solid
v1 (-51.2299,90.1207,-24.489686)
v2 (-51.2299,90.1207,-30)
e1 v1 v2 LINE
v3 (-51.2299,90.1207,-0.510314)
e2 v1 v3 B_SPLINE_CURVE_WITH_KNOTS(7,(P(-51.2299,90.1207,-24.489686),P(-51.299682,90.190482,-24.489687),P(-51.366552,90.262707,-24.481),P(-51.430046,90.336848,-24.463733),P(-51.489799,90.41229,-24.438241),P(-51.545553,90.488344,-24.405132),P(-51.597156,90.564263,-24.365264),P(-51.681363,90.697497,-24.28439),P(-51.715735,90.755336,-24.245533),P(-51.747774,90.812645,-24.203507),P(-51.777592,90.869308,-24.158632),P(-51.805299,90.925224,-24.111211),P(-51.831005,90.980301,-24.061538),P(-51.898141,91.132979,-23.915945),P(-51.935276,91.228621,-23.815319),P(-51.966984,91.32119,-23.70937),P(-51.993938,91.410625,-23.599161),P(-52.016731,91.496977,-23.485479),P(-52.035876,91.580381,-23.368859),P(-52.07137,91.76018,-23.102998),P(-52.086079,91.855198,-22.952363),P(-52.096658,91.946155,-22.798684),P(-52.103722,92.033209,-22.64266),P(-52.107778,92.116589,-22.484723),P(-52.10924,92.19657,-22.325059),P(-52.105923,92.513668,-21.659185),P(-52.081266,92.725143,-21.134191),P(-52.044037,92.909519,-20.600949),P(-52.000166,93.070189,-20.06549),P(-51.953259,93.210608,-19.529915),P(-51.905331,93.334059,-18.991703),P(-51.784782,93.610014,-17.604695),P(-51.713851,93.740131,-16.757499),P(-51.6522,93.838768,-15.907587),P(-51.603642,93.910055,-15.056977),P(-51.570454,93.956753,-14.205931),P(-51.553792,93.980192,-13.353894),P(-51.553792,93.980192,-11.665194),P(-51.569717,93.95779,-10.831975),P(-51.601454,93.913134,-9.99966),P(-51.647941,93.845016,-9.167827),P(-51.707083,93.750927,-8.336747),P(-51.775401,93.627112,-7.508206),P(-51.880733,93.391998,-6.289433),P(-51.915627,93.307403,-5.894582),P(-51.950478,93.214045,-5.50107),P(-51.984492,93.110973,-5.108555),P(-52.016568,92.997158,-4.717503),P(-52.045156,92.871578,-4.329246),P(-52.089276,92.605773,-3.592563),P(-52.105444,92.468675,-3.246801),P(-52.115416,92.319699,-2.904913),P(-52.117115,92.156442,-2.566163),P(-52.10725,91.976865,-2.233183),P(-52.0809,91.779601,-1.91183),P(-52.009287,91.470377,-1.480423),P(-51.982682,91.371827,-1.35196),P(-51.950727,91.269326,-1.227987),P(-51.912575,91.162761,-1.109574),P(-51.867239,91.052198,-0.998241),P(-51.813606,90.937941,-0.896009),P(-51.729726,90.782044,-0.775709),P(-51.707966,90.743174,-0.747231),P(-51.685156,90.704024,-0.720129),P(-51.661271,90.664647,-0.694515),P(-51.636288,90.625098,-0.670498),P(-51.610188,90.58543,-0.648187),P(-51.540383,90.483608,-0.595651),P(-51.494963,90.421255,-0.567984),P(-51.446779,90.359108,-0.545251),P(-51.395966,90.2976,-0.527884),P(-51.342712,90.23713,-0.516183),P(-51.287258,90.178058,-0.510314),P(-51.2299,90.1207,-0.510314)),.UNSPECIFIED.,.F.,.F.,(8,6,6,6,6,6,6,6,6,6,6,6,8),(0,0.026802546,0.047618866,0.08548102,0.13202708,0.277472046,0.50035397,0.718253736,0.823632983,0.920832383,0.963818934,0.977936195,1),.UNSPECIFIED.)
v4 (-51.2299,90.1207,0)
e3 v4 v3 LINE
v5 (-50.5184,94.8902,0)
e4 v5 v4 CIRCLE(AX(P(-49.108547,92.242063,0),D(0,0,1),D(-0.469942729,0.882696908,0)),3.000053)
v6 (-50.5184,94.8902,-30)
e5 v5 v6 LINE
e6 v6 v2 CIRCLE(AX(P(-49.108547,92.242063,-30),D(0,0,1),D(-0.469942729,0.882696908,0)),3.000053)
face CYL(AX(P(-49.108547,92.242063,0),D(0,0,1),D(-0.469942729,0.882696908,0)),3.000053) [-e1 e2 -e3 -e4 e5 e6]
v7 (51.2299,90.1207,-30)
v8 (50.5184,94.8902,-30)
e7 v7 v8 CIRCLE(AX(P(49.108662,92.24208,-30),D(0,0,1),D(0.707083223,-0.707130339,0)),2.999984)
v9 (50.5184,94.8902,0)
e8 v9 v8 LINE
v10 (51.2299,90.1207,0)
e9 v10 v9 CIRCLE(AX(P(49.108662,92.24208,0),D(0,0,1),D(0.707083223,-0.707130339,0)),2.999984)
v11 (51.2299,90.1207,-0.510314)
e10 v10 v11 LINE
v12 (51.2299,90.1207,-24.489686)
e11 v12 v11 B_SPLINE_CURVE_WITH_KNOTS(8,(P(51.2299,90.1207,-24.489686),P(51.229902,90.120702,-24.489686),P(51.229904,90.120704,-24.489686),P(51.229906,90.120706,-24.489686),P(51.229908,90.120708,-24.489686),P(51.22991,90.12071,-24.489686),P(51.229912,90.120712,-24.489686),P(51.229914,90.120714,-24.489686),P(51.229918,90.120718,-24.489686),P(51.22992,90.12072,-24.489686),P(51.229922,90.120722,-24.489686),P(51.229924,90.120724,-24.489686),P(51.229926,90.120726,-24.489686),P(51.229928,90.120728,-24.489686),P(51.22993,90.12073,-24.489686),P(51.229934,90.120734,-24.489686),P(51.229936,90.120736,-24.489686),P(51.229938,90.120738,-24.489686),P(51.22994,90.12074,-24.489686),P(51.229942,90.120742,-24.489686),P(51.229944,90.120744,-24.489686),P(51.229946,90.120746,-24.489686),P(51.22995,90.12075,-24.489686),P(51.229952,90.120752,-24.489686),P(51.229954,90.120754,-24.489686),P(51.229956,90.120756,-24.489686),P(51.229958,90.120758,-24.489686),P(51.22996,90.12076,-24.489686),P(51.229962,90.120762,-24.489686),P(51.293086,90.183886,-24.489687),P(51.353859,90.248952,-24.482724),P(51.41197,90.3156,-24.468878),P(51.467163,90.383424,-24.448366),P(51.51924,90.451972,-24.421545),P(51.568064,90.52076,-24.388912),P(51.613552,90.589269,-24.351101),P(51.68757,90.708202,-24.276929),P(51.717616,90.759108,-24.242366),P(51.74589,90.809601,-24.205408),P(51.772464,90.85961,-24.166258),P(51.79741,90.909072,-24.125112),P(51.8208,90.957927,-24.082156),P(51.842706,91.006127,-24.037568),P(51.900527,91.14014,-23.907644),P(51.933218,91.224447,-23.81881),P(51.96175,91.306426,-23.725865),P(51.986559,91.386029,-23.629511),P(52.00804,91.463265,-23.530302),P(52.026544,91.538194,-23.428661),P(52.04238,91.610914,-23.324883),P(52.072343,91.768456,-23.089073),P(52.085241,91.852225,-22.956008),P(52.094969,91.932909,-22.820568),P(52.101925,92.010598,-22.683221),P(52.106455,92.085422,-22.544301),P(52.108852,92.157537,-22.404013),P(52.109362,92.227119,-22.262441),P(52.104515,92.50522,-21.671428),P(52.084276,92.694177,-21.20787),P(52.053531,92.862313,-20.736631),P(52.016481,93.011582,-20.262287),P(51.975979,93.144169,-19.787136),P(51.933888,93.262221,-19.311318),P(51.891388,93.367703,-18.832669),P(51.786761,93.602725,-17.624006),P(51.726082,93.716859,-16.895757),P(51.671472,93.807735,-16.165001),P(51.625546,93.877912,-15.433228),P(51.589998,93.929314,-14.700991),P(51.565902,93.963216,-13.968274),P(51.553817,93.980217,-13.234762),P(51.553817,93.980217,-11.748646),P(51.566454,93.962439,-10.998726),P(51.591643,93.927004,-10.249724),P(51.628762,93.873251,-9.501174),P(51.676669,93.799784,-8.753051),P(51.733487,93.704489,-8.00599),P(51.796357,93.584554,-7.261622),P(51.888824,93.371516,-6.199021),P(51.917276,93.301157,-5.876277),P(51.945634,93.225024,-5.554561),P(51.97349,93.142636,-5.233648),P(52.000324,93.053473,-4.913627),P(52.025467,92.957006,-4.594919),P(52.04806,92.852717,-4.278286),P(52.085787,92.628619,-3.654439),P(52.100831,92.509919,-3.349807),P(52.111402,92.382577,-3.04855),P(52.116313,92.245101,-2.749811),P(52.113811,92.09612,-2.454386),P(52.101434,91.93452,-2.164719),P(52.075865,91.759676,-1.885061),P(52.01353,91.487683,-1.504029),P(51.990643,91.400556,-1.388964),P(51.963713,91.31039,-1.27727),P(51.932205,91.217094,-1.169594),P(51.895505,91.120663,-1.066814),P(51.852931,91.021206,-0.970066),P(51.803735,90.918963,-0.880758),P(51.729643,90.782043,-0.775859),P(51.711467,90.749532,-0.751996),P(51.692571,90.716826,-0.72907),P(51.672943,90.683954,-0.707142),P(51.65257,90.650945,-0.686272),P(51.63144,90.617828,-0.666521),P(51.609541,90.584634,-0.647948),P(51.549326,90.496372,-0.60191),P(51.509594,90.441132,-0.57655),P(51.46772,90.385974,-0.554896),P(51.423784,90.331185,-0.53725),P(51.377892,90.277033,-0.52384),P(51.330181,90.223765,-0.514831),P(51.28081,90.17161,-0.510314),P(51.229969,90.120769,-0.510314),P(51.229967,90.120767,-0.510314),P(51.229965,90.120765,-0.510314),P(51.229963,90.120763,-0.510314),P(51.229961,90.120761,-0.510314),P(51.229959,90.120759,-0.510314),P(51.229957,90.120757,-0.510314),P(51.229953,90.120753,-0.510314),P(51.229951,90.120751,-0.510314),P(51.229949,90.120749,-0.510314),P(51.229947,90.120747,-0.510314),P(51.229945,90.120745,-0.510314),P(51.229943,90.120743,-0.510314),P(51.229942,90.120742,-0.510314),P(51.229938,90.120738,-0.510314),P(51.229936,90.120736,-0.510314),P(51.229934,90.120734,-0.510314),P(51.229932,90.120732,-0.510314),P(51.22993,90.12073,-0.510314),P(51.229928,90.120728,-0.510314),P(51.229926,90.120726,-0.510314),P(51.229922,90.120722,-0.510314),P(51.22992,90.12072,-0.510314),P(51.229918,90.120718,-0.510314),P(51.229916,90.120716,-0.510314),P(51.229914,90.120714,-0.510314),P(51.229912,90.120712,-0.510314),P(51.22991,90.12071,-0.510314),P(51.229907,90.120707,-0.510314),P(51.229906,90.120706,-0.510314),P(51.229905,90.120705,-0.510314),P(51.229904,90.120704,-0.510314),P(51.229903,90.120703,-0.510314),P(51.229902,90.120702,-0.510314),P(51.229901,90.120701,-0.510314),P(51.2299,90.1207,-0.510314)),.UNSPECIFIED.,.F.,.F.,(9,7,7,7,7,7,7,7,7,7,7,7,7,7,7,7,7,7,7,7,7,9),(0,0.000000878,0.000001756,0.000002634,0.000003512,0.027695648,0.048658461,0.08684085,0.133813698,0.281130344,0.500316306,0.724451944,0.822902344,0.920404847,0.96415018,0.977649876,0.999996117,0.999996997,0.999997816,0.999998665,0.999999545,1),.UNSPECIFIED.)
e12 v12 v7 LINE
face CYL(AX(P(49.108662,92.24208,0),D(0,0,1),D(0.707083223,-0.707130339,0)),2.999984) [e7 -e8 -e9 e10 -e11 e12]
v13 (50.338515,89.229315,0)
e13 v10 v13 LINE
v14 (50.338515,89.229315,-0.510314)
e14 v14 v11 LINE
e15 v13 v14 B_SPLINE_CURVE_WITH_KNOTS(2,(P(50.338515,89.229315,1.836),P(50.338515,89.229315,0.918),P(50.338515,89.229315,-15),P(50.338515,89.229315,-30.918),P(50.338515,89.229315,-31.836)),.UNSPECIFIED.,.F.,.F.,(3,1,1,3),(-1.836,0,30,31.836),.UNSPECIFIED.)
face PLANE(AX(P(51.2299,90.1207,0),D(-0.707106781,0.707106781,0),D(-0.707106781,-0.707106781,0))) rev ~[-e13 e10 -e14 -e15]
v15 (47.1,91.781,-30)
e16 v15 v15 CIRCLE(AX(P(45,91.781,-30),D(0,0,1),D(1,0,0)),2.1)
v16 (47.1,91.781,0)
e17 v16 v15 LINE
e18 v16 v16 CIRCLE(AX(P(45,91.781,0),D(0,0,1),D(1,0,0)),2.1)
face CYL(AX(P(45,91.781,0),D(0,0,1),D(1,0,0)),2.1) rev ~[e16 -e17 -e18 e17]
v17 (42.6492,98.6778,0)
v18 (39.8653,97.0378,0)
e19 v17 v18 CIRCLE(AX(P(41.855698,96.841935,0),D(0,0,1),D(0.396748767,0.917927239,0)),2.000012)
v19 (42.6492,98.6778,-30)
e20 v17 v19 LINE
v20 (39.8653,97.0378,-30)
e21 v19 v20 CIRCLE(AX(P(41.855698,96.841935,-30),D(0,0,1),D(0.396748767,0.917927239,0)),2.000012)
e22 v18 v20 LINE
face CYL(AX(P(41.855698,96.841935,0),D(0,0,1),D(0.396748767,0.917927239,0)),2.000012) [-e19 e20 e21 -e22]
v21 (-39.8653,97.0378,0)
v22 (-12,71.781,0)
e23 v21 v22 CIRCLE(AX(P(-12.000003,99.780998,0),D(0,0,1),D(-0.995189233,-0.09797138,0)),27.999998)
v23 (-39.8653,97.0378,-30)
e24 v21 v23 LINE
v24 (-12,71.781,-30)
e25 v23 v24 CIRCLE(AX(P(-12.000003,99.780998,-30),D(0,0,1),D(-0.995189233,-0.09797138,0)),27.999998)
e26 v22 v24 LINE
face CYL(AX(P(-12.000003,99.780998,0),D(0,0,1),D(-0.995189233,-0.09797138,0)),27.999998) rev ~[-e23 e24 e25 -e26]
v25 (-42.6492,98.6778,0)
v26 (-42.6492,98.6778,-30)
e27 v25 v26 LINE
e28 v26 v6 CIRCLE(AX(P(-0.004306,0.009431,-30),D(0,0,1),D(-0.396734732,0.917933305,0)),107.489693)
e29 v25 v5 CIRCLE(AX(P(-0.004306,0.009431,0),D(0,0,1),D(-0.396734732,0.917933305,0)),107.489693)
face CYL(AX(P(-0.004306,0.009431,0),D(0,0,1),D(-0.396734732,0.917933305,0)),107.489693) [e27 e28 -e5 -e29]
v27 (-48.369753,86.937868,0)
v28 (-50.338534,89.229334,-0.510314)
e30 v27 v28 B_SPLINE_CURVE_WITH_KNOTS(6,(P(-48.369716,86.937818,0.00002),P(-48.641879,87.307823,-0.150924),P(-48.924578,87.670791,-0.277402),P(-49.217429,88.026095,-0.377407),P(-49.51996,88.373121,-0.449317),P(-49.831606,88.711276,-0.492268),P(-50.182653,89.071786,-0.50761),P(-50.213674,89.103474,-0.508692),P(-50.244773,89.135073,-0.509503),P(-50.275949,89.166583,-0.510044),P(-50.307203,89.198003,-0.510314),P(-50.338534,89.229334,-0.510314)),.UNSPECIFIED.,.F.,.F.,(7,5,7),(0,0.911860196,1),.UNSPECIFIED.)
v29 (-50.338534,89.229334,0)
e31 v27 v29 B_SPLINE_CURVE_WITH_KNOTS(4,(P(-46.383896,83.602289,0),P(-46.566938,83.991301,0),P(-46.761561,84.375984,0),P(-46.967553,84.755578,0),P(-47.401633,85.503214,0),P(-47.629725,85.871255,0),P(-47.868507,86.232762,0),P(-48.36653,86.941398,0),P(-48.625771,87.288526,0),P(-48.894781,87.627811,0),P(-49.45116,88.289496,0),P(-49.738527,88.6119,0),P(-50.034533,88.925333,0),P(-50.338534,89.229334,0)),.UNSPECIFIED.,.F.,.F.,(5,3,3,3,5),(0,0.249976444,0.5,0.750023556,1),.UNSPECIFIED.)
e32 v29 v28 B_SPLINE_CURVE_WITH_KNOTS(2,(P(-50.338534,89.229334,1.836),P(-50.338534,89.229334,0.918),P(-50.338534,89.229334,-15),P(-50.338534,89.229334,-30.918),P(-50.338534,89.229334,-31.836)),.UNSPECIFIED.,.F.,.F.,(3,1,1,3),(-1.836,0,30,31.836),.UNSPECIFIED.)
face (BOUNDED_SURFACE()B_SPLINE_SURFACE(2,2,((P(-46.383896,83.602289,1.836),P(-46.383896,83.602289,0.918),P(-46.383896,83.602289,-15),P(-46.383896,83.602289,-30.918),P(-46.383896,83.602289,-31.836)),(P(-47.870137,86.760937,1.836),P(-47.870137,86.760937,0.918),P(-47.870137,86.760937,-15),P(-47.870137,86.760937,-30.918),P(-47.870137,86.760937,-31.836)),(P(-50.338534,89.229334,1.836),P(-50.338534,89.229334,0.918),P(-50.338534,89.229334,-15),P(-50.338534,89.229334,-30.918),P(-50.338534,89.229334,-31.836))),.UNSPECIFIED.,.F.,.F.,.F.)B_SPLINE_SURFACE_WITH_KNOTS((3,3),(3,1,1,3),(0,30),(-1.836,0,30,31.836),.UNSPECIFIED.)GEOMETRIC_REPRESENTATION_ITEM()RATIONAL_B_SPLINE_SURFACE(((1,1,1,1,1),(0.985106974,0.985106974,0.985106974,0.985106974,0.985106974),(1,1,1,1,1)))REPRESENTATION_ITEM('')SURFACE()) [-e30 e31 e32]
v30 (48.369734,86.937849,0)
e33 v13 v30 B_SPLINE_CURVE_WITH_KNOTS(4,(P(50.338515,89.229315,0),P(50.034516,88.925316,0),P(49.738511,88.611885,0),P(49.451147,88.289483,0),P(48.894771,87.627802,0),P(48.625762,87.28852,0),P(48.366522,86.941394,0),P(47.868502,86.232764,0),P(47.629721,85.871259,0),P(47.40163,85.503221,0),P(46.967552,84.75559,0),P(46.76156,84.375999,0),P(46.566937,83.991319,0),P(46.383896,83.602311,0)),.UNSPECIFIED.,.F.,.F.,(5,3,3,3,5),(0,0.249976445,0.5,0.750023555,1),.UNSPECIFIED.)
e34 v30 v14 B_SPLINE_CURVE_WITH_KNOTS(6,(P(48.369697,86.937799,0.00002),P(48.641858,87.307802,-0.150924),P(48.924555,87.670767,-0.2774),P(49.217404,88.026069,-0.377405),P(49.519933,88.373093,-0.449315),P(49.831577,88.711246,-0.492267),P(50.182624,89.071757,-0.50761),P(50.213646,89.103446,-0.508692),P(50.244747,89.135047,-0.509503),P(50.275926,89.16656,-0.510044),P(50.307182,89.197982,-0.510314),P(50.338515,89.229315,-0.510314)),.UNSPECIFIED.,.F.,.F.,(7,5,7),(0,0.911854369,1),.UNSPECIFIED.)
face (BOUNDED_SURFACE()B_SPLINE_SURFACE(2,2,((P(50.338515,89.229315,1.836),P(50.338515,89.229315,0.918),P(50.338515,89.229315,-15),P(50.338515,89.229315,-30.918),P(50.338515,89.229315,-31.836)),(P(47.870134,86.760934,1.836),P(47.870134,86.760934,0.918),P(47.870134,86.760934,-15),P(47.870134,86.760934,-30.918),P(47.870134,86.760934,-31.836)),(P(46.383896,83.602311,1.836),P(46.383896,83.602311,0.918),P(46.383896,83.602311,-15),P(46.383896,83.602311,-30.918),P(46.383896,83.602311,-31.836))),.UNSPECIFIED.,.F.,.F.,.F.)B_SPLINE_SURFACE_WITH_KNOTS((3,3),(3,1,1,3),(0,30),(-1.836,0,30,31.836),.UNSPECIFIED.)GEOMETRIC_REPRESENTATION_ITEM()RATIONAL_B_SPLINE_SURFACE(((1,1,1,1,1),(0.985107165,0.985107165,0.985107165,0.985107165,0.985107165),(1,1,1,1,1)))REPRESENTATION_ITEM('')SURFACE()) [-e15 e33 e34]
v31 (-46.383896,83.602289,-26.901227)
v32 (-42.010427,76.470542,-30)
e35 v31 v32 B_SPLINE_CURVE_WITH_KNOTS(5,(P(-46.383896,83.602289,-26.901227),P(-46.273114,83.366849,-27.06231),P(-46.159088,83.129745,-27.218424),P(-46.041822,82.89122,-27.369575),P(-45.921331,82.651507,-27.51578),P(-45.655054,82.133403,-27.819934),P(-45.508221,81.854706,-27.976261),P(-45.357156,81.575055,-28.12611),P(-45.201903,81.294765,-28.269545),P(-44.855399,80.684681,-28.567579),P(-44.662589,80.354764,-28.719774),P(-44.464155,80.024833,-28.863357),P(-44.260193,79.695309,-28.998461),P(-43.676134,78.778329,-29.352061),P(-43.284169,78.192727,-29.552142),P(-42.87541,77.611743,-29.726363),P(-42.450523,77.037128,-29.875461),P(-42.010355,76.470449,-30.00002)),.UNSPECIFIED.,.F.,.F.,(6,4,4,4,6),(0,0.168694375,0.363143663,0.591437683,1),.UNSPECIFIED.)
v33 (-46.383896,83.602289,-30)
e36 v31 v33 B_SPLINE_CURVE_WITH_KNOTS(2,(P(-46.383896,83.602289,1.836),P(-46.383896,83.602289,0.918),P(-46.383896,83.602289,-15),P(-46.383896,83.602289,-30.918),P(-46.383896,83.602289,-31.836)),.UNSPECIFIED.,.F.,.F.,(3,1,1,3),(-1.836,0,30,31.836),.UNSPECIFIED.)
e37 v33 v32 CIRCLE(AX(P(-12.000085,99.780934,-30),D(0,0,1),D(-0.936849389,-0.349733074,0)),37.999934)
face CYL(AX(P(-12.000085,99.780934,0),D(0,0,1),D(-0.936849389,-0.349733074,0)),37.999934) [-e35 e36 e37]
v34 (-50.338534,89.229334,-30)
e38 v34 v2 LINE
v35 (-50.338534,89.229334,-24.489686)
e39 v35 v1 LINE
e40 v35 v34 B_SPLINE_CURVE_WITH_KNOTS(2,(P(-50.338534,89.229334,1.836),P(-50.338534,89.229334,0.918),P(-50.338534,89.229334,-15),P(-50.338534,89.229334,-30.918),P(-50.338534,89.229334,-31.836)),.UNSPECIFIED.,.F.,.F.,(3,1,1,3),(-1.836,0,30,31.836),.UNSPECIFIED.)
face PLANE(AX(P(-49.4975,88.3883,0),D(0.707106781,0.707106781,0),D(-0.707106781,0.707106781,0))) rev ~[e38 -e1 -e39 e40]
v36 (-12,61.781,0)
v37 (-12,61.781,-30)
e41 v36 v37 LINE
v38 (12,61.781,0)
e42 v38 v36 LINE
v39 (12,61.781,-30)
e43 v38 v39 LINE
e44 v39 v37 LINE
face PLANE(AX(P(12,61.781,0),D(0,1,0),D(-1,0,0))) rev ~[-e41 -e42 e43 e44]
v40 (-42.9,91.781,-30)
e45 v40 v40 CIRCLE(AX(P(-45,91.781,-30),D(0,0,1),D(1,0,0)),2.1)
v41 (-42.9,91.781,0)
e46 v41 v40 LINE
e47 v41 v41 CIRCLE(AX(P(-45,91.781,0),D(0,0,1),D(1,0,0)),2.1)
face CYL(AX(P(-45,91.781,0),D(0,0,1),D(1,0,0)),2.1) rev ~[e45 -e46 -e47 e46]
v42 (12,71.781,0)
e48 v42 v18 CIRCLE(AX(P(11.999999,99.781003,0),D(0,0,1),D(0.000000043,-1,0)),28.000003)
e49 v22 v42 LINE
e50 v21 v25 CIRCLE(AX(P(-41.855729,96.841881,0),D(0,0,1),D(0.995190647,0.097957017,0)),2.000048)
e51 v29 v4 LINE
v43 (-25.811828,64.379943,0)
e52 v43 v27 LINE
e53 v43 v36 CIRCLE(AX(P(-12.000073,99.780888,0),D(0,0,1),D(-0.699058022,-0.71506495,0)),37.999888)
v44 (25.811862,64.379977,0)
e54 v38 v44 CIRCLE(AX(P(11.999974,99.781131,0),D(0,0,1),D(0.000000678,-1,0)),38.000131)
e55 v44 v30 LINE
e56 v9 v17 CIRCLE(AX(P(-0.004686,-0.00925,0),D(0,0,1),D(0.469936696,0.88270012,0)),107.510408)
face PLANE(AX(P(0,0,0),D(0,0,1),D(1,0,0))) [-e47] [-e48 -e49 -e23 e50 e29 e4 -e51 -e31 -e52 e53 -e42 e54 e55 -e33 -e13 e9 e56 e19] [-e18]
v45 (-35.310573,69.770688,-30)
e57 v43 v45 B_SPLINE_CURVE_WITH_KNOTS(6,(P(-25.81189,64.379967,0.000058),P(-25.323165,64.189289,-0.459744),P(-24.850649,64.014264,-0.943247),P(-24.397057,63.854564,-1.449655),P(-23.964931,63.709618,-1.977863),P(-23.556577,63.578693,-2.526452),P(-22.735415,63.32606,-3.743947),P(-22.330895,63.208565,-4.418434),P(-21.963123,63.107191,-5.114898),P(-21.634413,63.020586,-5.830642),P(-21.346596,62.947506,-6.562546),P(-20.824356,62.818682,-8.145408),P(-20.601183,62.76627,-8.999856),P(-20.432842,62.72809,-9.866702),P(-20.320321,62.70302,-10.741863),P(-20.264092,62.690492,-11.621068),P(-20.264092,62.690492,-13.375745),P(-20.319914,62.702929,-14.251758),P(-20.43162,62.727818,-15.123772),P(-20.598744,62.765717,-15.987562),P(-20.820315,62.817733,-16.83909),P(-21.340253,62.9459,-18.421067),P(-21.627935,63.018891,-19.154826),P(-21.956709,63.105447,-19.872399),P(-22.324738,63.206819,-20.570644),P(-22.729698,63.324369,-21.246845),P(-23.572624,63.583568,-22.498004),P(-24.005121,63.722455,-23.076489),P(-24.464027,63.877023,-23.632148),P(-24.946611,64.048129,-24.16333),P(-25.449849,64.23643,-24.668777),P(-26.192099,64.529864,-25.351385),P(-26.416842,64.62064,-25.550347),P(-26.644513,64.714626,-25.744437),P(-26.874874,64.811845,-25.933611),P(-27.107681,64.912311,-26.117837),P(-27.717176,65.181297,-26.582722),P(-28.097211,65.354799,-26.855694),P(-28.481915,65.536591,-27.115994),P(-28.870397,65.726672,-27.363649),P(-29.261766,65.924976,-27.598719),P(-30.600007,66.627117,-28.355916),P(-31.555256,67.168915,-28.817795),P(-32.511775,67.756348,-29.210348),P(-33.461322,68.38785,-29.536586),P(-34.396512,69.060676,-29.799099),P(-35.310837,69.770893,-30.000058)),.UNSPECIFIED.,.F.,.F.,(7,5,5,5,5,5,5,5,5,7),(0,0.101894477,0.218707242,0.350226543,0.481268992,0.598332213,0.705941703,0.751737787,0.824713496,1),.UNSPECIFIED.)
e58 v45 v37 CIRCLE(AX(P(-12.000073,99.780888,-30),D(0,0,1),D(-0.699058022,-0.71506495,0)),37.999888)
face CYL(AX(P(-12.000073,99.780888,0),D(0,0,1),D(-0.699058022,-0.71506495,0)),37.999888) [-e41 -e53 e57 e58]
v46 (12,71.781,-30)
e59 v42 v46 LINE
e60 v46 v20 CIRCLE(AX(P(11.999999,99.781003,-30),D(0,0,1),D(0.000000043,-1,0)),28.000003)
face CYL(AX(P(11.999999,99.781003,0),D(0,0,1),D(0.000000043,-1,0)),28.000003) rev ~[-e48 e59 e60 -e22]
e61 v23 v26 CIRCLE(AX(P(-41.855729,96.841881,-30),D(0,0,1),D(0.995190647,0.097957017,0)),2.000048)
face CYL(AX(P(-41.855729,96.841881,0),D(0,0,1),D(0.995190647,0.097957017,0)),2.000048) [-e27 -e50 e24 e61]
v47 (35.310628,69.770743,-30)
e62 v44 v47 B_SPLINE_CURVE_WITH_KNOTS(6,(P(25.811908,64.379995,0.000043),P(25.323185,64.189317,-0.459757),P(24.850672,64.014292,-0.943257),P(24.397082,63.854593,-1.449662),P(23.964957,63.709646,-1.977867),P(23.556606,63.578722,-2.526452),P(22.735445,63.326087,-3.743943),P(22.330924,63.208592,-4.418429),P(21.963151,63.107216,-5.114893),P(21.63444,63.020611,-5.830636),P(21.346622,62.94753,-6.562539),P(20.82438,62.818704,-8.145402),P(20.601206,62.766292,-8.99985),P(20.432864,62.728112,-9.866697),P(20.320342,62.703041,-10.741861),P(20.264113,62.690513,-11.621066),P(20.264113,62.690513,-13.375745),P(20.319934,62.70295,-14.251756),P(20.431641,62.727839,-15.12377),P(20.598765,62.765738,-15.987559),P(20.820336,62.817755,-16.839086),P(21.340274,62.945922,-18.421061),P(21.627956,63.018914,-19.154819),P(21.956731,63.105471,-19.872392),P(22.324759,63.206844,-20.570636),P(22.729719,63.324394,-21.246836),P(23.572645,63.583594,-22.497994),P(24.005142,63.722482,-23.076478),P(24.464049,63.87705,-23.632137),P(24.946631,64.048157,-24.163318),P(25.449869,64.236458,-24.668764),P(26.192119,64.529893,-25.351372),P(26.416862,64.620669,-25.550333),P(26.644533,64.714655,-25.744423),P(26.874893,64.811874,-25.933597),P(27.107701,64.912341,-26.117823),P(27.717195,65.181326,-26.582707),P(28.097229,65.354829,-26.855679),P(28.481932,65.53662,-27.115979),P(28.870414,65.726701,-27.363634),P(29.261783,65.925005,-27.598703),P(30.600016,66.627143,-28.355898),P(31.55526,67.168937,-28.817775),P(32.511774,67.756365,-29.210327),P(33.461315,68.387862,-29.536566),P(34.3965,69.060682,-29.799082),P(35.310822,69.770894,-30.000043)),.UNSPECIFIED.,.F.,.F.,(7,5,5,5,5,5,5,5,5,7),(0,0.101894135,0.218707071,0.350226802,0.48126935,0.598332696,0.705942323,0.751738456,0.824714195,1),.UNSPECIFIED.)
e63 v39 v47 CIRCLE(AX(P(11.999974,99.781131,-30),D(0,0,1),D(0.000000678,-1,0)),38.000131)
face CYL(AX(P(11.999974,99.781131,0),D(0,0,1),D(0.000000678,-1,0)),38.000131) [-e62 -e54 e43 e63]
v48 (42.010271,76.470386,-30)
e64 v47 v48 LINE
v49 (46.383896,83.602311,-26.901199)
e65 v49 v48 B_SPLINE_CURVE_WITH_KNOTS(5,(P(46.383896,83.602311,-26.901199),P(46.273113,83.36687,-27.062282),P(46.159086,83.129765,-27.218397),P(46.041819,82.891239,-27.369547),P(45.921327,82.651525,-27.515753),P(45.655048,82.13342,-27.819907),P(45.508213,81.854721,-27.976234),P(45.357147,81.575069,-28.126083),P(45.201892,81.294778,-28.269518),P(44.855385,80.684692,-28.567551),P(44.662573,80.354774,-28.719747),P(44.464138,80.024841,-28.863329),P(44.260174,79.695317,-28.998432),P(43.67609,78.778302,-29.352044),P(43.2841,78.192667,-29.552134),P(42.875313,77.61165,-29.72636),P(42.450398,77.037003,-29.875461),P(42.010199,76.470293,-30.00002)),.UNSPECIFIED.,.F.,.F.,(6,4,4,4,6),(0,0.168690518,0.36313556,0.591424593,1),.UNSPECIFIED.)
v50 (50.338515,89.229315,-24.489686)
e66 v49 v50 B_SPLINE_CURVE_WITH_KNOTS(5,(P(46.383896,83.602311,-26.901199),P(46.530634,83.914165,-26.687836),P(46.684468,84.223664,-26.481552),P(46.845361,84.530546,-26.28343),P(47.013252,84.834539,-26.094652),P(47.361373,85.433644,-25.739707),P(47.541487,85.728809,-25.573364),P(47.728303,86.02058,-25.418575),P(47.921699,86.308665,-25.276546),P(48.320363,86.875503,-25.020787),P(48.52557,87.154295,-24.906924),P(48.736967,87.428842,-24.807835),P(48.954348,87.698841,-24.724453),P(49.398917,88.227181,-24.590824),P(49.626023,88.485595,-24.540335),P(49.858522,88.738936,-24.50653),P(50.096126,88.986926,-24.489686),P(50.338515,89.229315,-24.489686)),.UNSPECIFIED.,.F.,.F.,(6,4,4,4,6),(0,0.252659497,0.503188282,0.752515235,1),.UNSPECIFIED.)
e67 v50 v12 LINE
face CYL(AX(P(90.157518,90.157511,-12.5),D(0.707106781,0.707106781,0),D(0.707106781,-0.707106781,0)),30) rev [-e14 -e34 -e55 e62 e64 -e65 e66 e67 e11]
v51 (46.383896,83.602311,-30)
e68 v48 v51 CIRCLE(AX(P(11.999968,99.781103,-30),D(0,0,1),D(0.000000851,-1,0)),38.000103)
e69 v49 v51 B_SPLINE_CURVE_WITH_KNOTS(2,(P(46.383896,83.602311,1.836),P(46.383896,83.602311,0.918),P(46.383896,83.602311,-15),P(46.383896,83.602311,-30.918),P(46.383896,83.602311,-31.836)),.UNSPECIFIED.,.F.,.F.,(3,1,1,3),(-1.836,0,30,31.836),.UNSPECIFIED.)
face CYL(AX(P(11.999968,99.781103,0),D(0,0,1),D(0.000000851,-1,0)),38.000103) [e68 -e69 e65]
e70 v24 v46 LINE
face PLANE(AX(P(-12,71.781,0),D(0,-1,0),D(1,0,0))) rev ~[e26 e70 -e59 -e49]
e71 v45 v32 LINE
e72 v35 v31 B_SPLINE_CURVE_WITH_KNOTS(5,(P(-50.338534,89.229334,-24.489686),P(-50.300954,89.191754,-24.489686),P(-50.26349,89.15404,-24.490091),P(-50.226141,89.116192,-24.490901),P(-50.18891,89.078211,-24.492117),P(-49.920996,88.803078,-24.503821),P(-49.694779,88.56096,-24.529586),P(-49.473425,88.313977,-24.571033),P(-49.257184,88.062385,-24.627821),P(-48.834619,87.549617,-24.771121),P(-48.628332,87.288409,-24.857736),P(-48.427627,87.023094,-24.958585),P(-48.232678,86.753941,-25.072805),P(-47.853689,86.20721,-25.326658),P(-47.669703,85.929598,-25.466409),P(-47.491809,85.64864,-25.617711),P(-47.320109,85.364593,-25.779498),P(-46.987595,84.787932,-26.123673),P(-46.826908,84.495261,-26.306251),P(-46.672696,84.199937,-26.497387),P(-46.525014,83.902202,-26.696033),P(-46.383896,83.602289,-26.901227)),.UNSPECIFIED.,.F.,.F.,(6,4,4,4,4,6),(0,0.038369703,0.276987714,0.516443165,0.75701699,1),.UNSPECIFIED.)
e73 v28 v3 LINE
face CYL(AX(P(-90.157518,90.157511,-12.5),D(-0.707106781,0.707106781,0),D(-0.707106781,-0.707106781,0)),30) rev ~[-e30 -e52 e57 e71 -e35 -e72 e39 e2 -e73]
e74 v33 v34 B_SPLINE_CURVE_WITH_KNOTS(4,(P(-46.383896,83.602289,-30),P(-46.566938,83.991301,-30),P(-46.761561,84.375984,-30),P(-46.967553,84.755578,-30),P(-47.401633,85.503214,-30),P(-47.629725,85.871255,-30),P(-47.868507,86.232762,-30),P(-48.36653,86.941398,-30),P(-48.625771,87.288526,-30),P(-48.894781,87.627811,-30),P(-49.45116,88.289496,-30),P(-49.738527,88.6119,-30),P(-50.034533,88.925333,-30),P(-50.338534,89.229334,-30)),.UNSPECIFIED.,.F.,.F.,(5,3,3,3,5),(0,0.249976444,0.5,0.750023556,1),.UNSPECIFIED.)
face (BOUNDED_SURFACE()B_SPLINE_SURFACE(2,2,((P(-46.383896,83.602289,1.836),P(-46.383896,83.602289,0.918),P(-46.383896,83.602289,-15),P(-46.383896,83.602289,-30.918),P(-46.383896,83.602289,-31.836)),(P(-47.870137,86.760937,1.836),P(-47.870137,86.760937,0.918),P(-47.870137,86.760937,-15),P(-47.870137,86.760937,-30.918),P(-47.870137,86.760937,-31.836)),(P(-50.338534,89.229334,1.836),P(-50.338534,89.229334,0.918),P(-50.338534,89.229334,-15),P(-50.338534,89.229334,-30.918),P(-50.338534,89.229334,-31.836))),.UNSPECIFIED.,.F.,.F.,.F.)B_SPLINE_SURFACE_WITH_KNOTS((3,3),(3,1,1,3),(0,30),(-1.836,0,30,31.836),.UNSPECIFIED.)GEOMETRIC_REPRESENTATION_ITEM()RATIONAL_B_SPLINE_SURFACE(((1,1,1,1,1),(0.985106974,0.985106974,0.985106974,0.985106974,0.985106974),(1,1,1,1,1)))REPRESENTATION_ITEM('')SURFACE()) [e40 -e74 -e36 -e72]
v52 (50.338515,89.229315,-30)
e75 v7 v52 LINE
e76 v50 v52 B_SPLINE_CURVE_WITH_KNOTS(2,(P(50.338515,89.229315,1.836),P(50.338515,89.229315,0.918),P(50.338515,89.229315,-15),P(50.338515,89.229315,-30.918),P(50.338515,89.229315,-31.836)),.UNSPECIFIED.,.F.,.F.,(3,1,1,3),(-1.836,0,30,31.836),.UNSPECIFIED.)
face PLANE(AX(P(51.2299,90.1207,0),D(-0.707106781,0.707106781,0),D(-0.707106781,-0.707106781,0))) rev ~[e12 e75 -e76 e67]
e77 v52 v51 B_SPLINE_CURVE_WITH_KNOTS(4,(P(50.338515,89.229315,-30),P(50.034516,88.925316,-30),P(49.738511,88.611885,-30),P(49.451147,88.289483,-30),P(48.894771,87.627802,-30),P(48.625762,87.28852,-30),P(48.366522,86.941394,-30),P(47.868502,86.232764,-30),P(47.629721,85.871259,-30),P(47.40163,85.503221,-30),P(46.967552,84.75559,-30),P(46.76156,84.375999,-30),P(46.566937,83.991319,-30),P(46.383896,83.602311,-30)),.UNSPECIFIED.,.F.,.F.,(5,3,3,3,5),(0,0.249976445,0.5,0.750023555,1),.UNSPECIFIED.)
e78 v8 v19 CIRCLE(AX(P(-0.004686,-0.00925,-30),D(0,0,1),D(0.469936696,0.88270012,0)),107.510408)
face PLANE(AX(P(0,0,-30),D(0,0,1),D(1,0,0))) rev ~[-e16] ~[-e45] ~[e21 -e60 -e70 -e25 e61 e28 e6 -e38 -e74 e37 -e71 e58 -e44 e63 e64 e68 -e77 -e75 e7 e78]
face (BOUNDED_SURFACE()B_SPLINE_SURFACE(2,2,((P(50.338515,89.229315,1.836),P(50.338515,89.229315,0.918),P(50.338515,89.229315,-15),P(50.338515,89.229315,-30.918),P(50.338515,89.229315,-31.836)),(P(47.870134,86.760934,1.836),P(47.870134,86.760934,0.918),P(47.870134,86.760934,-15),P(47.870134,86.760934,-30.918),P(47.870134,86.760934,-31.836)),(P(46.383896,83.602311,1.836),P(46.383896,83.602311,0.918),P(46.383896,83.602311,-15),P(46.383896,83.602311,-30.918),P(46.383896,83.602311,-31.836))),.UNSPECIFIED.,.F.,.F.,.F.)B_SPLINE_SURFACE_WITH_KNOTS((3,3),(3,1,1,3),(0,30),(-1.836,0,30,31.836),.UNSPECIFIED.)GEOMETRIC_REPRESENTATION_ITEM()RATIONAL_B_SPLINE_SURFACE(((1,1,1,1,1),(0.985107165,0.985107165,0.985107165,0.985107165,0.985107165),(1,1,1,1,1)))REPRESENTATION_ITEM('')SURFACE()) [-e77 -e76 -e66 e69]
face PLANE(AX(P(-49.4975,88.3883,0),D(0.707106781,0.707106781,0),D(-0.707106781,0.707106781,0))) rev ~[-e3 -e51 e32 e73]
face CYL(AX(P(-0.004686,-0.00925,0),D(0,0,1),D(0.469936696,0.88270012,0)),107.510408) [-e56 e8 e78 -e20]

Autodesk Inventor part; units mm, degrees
ref_plane "YZ Plane" through (0, 0, 0) normal (1, 0, 0) x (0, 1, 0)
ref_plane "XZ Plane" through (0, 0, 0) normal (0, 1, 0) x (-1, 0, 0)
ref_plane "XY Plane" through (0, 0, 0) normal (0, 0, 1) x (1, 0, 0)
sketch "Skizze6" plane through (0, 0, 0) normal (0, 0, 1) x (1, 0, 0)
  arc A0 (21.4454, -27.1023) -> (20.0312, -26.5165) centre (20.0312, -28.5165) ccw
  line L0 (20.0312, -26.5165) -> (-20.0312, -26.5165)
  arc A1 (-20.0312, -26.5165) -> (-21.4454, -27.1023) centre (-20.0312, -28.5165) ccw
  line L1 (-21.4454, -27.1023) -> (-51.9723, -57.6292)
  line L2 (-51.9723, -57.6292) -> (-42.4264, -67.1751)
  arc A2 (-38.3776, -89.6293) -> (-42.4264, -67.1751) centre (-56.5685, -81.3173) ccw
  arc A3 (-38.3776, -89.6293) -> (38.3776, -89.6293) centre (0, 0) ccw
  arc A4 (42.4264, -67.1751) -> (38.3776, -89.6293) centre (56.5685, -81.3173) ccw
  line L3 (42.4264, -67.1751) -> (51.9724, -57.6292)
  line L4 (51.9724, -57.6292) -> (21.4454, -27.1023)
  circle A5 centre (37.8302, -37.8302) radius 1.65
  circle A6 centre (37.8302, 37.8302) radius 1.65
  circle A7 centre (-37.8302, -37.8302) radius 1.65
  circle A8 centre (-37.8302, 37.8302) radius 1.65
  circle A9 centre (-22.7665, 22.7665) radius 1.6
  circle A10 centre (22.7665, 22.7665) radius 1.6
  circle A11 centre (22.7665, -22.7665) radius 1.6
  circle A12 centre (-22.7665, -22.7665) radius 1.6
  line L5 (19.0165, -19.0165) -> (19.0165, 19.0165)
  line L6 (19.0165, 19.0165) -> (-19.0165, 19.0165)
  line L7 (-19.0165, 19.0165) -> (-19.0165, -19.0165)
  line L8 (-19.0165, -19.0165) -> (19.0165, -19.0165)
  line L9 (26.5165, -20.8596) -> (57.6292, -51.9723)
  line L10 (57.6292, -51.9723) -> (67.1751, -42.4264)
  arc A13 (89.6293, -38.3776) -> (67.1751, -42.4264) centre (81.3173, -56.5685) ccw
  arc A14 (89.6293, -38.3776) -> (89.6293, 38.3776) centre (0, 0) ccw
  arc A15 (67.1751, 42.4264) -> (89.6293, 38.3776) centre (81.3173, 56.5685) ccw
  line L11 (67.1751, 42.4264) -> (57.6292, 51.9724)
  line L12 (57.6292, 51.9724) -> (26.5165, 20.8597)
  line L13 (26.5165, 20.8597) -> (26.5165, -20.8596)
  line L14 (-26.5165, 20.8596) -> (-57.6292, 51.9723)
  line L15 (-57.6292, 51.9723) -> (-67.1751, 42.4264)
  arc A16 (-89.6293, 38.3776) -> (-67.1751, 42.4264) centre (-81.3173, 56.5685) ccw
  arc A17 (-89.6293, 38.3776) -> (-89.6293, -38.3776) centre (0, 0) ccw
  arc A18 (-67.1751, -42.4264) -> (-89.6293, -38.3776) centre (-81.3173, -56.5685) ccw
  line L16 (-67.1751, -42.4264) -> (-57.6292, -51.9724)
  line L17 (-57.6292, -51.9724) -> (-26.5165, -20.8597)
  line L18 (-26.5165, -20.8597) -> (-26.5165, 20.8596)
  circle A19 centre (-44.3776, -92.6293) radius 1.6
  circle A20 centre (92.6293, 44.3776) radius 1.6
  circle A21 centre (-92.6293, -44.3776) radius 1.6
  circle A22 centre (44.3776, -92.6293) radius 1.6
  circle A23 centre (92.6293, -44.3776) radius 1.6
  circle A24 centre (-92.6293, 44.3776) radius 1.6
  circle A25 centre (45, 91.781) radius 1.6
  circle A26 centre (-45, 91.781) radius 1.6
  circle A27 centre (-67.8822, -48.7904) radius 1.6
  circle A28 centre (-48.7904, -67.8823) radius 1.6
  circle A29 centre (48.7904, -67.8822) radius 1.6
  circle A30 centre (67.8823, -48.7904) radius 1.6
  circle A31 centre (-67.8823, 48.7904) radius 1.6
  circle A32 centre (67.8822, 48.7904) radius 1.6
  circle A33 centre (48.7904, 67.8823) radius 1.6
  circle A34 centre (-48.7904, 67.8822) radius 1.6
  arc A35 (12, 61.781) -> (38.5642, 72.6085) centre (12, 99.781) ccw
  line L19 (12, 61.781) -> (-12, 61.781)
  arc A36 (-38.5642, 72.6085) -> (-12, 61.781) centre (-12, 99.781) ccw
  arc A37 (-42.4264, 67.1751) -> (-38.5642, 72.6085) centre (-56.5685, 81.3173) ccw
  line L20 (-42.4264, 67.1751) -> (-51.9724, 57.6292)
  line L21 (-51.9724, 57.6292) -> (-20.8597, 26.5165)
  line L22 (-20.8597, 26.5165) -> (20.8596, 26.5165)
  line L23 (20.8596, 26.5165) -> (51.9723, 57.6292)
  line L24 (51.9723, 57.6292) -> (42.4264, 67.1751)
  arc A38 (38.5642, 72.6085) -> (42.4264, 67.1751) centre (56.5685, 81.3173) ccw
  line L25 (-12, 71.781) -> (12, 71.781)
  arc A39 (12, 71.781) -> (39.8653, 97.0378) centre (12, 99.781) ccw
  arc A40 (42.6492, 98.6778) -> (39.8653, 97.0378) centre (41.8557, 96.8419) ccw
  arc A41 (50.5184, 94.8902) -> (42.6492, 98.6778) centre (0, 0) ccw
  arc A42 (51.2299, 90.1207) -> (50.5184, 94.8902) centre (49.1086, 92.2421) ccw
  line L26 (51.2299, 90.1207) -> (49.4975, 88.3883)
  arc A43 (49.4975, 88.3883) -> (49.4975, 74.2462) centre (56.5685, 81.3173) ccw
  line L27 (49.4975, 74.2462) -> (74.2462, 49.4975)
  arc A44 (74.2462, 49.4975) -> (88.3884, 49.4975) centre (81.3173, 56.5685) ccw
  line L28 (88.3884, 49.4975) -> (90.1208, 51.2299)
  arc A45 (94.8902, 50.5184) -> (90.1208, 51.2299) centre (92.2421, 49.1086) ccw
  arc A46 (94.8902, -50.5184) -> (94.8902, 50.5184) centre (0, 0) ccw
  arc A47 (90.1208, -51.2299) -> (94.8902, -50.5184) centre (92.2421, -49.1086) ccw
  line L29 (90.1208, -51.2299) -> (88.3883, -49.4975)
  arc A48 (88.3883, -49.4975) -> (74.2462, -49.4975) centre (81.3173, -56.5685) ccw
  line L30 (74.2462, -49.4975) -> (49.4975, -74.2462)
  arc A49 (49.4975, -74.2462) -> (49.4975, -88.3883) centre (56.5685, -81.3173) ccw
  line L31 (49.4975, -88.3883) -> (51.2299, -90.1207)
  arc A50 (50.5184, -94.8902) -> (51.2299, -90.1207) centre (49.1086, -92.2421) ccw
  arc A51 (-50.5184, -94.8902) -> (50.5184, -94.8902) centre (0, 0) ccw
  arc A52 (-51.2299, -90.1208) -> (-50.5184, -94.8902) centre (-49.1086, -92.2421) ccw
  line L32 (-51.2299, -90.1208) -> (-49.4975, -88.3883)
  arc A53 (-49.4975, -88.3883) -> (-49.4975, -74.2462) centre (-56.5685, -81.3173) ccw
  line L33 (-49.4975, -74.2462) -> (-74.2462, -49.4975)
  arc A54 (-74.2462, -49.4975) -> (-88.3883, -49.4975) centre (-81.3173, -56.5685) ccw
  line L34 (-88.3883, -49.4975) -> (-90.1207, -51.2299)
  arc A55 (-94.8902, -50.5184) -> (-90.1207, -51.2299) centre (-92.2421, -49.1086) ccw
  arc A56 (-94.8902, 50.5184) -> (-94.8902, -50.5184) centre (0, 0) ccw
  arc A57 (-90.1208, 51.2299) -> (-94.8902, 50.5184) centre (-92.2421, 49.1086) ccw
  line L35 (-90.1208, 51.2299) -> (-88.3883, 49.4975)
  arc A58 (-88.3883, 49.4975) -> (-74.2462, 49.4975) centre (-81.3173, 56.5685) ccw
  line L36 (-74.2462, 49.4975) -> (-49.4975, 74.2462)
  arc A59 (-49.4975, 74.2462) -> (-49.4975, 88.3883) centre (-56.5685, 81.3173) ccw
  line L37 (-49.4975, 88.3883) -> (-51.2299, 90.1207)
  arc A60 (-50.5184, 94.8902) -> (-51.2299, 90.1207) centre (-49.1086, 92.2421) ccw
  arc A61 (-42.6492, 98.6778) -> (-50.5184, 94.8902) centre (0, 0) ccw
  arc A62 (-39.8653, 97.0378) -> (-42.6492, 98.6778) centre (-41.8557, 96.8419) ccw
  arc A63 (-39.8653, 97.0378) -> (-12, 71.781) centre (-12, 99.781) ccw
  arc A64 (-47.6003, 86.4911) -> (-12, 61.781) centre (-12, 99.781) ccw
  line L38 (-49.4975, 88.3883) -> (-47.6003, 86.4911)
  line L39 (0, 71.781) -> (0, 61.781) construction
  arc A65 (12, 61.781) -> (47.6003, 86.4911) centre (12, 99.781) ccw
  line L40 (49.4975, 88.3883) -> (47.6003, 86.4911)
  point P0 (0, 0)
  point P1 (0, 0)
  point P2 (38.5642, 72.6085)
extrude "Extrusion4" add sketch "Skizze6" against normal blind 30 contours L19 A36 A64 L38 L37 A60 A61 A62 A63 L25 A39 A40 A41 A42 L26 L40 A65 A35
fillet "Rundung2" radius 20 2 edges at (47.6003, 86.4911, -15) (-47.6003, 86.4911, -15)
sketch "Skizze7" plane through (0, 0, 0) normal (0, 0, 1) x (1, 0, 0)
  line L0 (0, 0) -> (-29.0841, 0) construction
  line L1 (0, 0) -> (-84.8528, 84.8528)
  line L2 (-111.3693, 68.9429) -> (-68.9429, 111.3693)
  line L3 (-68.9429, 111.3693) -> (-58.3363, 100.7627)
  line L4 (-58.3363, 100.7627) -> (-100.7627, 58.3363)
  line L5 (-100.7627, 58.3363) -> (-111.3693, 68.9429)
  line L6 (-111.3693, 68.9429) -> (-58.3363, 100.7627) construction
  line L7 (-68.9429, 111.3693) -> (-100.7627, 58.3363) construction
  dimension "d19" = 45
  dimension "d20" = 120
  dimension "d21" = 60
  dimension "d22" = 15
extrude "Extrusion5" add sketch "Skizze7" against normal blind 30
sketch "Skizze8" plane through (-68.9429, 111.3693, -30) normal (-0.7071, 0.7071, 0) x (-0.7071, -0.7071, 0)
  line L0 (60, 0) -> (0, 0) projected
  line L1 (30, 0) -> (30, 17.5)
  circle A0 centre (30, 17.5) radius 30
  line L2 (0, 30) -> (60, 30) projected
  line L3 (0, 30) -> (60, 30)
  line L4 (60, 30) -> (60, 0)
  line L5 (60, 0) -> (0, 0)
  line L6 (0, 0) -> (0, 30)
  point P0 (30, 30)
  dimension "d25" = 17.5
  dimension "d26" = 60
extrude "Extrusion6" cut sketch "Skizze8" against normal up to surface (15 mm away) contours L0 A0 L4 | L0 A0 L2 | A0 L2 L4 | L0 L6 A0 | L6 L2 A0
extrude "Extrusion7" cut sketch "Skizze8" against normal blind 100 contours A0 L0 | L0 A0 L2 | L2 A0
mirror "Spiegeln1" about plane through (0, 0, 0) normal (1, 0, 0) of "Extrusion7"
sketch "Skizze9" plane through (0, 0, 0) normal (0, 0, 1) x (1, 0, 0)
  circle A0 centre (45, 91.781) radius 1.6 projected
  circle A1 centre (45, 91.781) radius 2.1
  circle A2 centre (-45, 91.781) radius 1.6 projected
  circle A3 centre (-45, 91.781) radius 2.1
  point P0 (0, 0)
  dimension "d31" = 4.2
  dimension "d32" = 4.2
extrude "Extrusion8" cut sketch "Skizze9" against normal up to surface (30 mm away) contours A0 | A1 | A2 | A3
properties part number "Ballkuhle"
